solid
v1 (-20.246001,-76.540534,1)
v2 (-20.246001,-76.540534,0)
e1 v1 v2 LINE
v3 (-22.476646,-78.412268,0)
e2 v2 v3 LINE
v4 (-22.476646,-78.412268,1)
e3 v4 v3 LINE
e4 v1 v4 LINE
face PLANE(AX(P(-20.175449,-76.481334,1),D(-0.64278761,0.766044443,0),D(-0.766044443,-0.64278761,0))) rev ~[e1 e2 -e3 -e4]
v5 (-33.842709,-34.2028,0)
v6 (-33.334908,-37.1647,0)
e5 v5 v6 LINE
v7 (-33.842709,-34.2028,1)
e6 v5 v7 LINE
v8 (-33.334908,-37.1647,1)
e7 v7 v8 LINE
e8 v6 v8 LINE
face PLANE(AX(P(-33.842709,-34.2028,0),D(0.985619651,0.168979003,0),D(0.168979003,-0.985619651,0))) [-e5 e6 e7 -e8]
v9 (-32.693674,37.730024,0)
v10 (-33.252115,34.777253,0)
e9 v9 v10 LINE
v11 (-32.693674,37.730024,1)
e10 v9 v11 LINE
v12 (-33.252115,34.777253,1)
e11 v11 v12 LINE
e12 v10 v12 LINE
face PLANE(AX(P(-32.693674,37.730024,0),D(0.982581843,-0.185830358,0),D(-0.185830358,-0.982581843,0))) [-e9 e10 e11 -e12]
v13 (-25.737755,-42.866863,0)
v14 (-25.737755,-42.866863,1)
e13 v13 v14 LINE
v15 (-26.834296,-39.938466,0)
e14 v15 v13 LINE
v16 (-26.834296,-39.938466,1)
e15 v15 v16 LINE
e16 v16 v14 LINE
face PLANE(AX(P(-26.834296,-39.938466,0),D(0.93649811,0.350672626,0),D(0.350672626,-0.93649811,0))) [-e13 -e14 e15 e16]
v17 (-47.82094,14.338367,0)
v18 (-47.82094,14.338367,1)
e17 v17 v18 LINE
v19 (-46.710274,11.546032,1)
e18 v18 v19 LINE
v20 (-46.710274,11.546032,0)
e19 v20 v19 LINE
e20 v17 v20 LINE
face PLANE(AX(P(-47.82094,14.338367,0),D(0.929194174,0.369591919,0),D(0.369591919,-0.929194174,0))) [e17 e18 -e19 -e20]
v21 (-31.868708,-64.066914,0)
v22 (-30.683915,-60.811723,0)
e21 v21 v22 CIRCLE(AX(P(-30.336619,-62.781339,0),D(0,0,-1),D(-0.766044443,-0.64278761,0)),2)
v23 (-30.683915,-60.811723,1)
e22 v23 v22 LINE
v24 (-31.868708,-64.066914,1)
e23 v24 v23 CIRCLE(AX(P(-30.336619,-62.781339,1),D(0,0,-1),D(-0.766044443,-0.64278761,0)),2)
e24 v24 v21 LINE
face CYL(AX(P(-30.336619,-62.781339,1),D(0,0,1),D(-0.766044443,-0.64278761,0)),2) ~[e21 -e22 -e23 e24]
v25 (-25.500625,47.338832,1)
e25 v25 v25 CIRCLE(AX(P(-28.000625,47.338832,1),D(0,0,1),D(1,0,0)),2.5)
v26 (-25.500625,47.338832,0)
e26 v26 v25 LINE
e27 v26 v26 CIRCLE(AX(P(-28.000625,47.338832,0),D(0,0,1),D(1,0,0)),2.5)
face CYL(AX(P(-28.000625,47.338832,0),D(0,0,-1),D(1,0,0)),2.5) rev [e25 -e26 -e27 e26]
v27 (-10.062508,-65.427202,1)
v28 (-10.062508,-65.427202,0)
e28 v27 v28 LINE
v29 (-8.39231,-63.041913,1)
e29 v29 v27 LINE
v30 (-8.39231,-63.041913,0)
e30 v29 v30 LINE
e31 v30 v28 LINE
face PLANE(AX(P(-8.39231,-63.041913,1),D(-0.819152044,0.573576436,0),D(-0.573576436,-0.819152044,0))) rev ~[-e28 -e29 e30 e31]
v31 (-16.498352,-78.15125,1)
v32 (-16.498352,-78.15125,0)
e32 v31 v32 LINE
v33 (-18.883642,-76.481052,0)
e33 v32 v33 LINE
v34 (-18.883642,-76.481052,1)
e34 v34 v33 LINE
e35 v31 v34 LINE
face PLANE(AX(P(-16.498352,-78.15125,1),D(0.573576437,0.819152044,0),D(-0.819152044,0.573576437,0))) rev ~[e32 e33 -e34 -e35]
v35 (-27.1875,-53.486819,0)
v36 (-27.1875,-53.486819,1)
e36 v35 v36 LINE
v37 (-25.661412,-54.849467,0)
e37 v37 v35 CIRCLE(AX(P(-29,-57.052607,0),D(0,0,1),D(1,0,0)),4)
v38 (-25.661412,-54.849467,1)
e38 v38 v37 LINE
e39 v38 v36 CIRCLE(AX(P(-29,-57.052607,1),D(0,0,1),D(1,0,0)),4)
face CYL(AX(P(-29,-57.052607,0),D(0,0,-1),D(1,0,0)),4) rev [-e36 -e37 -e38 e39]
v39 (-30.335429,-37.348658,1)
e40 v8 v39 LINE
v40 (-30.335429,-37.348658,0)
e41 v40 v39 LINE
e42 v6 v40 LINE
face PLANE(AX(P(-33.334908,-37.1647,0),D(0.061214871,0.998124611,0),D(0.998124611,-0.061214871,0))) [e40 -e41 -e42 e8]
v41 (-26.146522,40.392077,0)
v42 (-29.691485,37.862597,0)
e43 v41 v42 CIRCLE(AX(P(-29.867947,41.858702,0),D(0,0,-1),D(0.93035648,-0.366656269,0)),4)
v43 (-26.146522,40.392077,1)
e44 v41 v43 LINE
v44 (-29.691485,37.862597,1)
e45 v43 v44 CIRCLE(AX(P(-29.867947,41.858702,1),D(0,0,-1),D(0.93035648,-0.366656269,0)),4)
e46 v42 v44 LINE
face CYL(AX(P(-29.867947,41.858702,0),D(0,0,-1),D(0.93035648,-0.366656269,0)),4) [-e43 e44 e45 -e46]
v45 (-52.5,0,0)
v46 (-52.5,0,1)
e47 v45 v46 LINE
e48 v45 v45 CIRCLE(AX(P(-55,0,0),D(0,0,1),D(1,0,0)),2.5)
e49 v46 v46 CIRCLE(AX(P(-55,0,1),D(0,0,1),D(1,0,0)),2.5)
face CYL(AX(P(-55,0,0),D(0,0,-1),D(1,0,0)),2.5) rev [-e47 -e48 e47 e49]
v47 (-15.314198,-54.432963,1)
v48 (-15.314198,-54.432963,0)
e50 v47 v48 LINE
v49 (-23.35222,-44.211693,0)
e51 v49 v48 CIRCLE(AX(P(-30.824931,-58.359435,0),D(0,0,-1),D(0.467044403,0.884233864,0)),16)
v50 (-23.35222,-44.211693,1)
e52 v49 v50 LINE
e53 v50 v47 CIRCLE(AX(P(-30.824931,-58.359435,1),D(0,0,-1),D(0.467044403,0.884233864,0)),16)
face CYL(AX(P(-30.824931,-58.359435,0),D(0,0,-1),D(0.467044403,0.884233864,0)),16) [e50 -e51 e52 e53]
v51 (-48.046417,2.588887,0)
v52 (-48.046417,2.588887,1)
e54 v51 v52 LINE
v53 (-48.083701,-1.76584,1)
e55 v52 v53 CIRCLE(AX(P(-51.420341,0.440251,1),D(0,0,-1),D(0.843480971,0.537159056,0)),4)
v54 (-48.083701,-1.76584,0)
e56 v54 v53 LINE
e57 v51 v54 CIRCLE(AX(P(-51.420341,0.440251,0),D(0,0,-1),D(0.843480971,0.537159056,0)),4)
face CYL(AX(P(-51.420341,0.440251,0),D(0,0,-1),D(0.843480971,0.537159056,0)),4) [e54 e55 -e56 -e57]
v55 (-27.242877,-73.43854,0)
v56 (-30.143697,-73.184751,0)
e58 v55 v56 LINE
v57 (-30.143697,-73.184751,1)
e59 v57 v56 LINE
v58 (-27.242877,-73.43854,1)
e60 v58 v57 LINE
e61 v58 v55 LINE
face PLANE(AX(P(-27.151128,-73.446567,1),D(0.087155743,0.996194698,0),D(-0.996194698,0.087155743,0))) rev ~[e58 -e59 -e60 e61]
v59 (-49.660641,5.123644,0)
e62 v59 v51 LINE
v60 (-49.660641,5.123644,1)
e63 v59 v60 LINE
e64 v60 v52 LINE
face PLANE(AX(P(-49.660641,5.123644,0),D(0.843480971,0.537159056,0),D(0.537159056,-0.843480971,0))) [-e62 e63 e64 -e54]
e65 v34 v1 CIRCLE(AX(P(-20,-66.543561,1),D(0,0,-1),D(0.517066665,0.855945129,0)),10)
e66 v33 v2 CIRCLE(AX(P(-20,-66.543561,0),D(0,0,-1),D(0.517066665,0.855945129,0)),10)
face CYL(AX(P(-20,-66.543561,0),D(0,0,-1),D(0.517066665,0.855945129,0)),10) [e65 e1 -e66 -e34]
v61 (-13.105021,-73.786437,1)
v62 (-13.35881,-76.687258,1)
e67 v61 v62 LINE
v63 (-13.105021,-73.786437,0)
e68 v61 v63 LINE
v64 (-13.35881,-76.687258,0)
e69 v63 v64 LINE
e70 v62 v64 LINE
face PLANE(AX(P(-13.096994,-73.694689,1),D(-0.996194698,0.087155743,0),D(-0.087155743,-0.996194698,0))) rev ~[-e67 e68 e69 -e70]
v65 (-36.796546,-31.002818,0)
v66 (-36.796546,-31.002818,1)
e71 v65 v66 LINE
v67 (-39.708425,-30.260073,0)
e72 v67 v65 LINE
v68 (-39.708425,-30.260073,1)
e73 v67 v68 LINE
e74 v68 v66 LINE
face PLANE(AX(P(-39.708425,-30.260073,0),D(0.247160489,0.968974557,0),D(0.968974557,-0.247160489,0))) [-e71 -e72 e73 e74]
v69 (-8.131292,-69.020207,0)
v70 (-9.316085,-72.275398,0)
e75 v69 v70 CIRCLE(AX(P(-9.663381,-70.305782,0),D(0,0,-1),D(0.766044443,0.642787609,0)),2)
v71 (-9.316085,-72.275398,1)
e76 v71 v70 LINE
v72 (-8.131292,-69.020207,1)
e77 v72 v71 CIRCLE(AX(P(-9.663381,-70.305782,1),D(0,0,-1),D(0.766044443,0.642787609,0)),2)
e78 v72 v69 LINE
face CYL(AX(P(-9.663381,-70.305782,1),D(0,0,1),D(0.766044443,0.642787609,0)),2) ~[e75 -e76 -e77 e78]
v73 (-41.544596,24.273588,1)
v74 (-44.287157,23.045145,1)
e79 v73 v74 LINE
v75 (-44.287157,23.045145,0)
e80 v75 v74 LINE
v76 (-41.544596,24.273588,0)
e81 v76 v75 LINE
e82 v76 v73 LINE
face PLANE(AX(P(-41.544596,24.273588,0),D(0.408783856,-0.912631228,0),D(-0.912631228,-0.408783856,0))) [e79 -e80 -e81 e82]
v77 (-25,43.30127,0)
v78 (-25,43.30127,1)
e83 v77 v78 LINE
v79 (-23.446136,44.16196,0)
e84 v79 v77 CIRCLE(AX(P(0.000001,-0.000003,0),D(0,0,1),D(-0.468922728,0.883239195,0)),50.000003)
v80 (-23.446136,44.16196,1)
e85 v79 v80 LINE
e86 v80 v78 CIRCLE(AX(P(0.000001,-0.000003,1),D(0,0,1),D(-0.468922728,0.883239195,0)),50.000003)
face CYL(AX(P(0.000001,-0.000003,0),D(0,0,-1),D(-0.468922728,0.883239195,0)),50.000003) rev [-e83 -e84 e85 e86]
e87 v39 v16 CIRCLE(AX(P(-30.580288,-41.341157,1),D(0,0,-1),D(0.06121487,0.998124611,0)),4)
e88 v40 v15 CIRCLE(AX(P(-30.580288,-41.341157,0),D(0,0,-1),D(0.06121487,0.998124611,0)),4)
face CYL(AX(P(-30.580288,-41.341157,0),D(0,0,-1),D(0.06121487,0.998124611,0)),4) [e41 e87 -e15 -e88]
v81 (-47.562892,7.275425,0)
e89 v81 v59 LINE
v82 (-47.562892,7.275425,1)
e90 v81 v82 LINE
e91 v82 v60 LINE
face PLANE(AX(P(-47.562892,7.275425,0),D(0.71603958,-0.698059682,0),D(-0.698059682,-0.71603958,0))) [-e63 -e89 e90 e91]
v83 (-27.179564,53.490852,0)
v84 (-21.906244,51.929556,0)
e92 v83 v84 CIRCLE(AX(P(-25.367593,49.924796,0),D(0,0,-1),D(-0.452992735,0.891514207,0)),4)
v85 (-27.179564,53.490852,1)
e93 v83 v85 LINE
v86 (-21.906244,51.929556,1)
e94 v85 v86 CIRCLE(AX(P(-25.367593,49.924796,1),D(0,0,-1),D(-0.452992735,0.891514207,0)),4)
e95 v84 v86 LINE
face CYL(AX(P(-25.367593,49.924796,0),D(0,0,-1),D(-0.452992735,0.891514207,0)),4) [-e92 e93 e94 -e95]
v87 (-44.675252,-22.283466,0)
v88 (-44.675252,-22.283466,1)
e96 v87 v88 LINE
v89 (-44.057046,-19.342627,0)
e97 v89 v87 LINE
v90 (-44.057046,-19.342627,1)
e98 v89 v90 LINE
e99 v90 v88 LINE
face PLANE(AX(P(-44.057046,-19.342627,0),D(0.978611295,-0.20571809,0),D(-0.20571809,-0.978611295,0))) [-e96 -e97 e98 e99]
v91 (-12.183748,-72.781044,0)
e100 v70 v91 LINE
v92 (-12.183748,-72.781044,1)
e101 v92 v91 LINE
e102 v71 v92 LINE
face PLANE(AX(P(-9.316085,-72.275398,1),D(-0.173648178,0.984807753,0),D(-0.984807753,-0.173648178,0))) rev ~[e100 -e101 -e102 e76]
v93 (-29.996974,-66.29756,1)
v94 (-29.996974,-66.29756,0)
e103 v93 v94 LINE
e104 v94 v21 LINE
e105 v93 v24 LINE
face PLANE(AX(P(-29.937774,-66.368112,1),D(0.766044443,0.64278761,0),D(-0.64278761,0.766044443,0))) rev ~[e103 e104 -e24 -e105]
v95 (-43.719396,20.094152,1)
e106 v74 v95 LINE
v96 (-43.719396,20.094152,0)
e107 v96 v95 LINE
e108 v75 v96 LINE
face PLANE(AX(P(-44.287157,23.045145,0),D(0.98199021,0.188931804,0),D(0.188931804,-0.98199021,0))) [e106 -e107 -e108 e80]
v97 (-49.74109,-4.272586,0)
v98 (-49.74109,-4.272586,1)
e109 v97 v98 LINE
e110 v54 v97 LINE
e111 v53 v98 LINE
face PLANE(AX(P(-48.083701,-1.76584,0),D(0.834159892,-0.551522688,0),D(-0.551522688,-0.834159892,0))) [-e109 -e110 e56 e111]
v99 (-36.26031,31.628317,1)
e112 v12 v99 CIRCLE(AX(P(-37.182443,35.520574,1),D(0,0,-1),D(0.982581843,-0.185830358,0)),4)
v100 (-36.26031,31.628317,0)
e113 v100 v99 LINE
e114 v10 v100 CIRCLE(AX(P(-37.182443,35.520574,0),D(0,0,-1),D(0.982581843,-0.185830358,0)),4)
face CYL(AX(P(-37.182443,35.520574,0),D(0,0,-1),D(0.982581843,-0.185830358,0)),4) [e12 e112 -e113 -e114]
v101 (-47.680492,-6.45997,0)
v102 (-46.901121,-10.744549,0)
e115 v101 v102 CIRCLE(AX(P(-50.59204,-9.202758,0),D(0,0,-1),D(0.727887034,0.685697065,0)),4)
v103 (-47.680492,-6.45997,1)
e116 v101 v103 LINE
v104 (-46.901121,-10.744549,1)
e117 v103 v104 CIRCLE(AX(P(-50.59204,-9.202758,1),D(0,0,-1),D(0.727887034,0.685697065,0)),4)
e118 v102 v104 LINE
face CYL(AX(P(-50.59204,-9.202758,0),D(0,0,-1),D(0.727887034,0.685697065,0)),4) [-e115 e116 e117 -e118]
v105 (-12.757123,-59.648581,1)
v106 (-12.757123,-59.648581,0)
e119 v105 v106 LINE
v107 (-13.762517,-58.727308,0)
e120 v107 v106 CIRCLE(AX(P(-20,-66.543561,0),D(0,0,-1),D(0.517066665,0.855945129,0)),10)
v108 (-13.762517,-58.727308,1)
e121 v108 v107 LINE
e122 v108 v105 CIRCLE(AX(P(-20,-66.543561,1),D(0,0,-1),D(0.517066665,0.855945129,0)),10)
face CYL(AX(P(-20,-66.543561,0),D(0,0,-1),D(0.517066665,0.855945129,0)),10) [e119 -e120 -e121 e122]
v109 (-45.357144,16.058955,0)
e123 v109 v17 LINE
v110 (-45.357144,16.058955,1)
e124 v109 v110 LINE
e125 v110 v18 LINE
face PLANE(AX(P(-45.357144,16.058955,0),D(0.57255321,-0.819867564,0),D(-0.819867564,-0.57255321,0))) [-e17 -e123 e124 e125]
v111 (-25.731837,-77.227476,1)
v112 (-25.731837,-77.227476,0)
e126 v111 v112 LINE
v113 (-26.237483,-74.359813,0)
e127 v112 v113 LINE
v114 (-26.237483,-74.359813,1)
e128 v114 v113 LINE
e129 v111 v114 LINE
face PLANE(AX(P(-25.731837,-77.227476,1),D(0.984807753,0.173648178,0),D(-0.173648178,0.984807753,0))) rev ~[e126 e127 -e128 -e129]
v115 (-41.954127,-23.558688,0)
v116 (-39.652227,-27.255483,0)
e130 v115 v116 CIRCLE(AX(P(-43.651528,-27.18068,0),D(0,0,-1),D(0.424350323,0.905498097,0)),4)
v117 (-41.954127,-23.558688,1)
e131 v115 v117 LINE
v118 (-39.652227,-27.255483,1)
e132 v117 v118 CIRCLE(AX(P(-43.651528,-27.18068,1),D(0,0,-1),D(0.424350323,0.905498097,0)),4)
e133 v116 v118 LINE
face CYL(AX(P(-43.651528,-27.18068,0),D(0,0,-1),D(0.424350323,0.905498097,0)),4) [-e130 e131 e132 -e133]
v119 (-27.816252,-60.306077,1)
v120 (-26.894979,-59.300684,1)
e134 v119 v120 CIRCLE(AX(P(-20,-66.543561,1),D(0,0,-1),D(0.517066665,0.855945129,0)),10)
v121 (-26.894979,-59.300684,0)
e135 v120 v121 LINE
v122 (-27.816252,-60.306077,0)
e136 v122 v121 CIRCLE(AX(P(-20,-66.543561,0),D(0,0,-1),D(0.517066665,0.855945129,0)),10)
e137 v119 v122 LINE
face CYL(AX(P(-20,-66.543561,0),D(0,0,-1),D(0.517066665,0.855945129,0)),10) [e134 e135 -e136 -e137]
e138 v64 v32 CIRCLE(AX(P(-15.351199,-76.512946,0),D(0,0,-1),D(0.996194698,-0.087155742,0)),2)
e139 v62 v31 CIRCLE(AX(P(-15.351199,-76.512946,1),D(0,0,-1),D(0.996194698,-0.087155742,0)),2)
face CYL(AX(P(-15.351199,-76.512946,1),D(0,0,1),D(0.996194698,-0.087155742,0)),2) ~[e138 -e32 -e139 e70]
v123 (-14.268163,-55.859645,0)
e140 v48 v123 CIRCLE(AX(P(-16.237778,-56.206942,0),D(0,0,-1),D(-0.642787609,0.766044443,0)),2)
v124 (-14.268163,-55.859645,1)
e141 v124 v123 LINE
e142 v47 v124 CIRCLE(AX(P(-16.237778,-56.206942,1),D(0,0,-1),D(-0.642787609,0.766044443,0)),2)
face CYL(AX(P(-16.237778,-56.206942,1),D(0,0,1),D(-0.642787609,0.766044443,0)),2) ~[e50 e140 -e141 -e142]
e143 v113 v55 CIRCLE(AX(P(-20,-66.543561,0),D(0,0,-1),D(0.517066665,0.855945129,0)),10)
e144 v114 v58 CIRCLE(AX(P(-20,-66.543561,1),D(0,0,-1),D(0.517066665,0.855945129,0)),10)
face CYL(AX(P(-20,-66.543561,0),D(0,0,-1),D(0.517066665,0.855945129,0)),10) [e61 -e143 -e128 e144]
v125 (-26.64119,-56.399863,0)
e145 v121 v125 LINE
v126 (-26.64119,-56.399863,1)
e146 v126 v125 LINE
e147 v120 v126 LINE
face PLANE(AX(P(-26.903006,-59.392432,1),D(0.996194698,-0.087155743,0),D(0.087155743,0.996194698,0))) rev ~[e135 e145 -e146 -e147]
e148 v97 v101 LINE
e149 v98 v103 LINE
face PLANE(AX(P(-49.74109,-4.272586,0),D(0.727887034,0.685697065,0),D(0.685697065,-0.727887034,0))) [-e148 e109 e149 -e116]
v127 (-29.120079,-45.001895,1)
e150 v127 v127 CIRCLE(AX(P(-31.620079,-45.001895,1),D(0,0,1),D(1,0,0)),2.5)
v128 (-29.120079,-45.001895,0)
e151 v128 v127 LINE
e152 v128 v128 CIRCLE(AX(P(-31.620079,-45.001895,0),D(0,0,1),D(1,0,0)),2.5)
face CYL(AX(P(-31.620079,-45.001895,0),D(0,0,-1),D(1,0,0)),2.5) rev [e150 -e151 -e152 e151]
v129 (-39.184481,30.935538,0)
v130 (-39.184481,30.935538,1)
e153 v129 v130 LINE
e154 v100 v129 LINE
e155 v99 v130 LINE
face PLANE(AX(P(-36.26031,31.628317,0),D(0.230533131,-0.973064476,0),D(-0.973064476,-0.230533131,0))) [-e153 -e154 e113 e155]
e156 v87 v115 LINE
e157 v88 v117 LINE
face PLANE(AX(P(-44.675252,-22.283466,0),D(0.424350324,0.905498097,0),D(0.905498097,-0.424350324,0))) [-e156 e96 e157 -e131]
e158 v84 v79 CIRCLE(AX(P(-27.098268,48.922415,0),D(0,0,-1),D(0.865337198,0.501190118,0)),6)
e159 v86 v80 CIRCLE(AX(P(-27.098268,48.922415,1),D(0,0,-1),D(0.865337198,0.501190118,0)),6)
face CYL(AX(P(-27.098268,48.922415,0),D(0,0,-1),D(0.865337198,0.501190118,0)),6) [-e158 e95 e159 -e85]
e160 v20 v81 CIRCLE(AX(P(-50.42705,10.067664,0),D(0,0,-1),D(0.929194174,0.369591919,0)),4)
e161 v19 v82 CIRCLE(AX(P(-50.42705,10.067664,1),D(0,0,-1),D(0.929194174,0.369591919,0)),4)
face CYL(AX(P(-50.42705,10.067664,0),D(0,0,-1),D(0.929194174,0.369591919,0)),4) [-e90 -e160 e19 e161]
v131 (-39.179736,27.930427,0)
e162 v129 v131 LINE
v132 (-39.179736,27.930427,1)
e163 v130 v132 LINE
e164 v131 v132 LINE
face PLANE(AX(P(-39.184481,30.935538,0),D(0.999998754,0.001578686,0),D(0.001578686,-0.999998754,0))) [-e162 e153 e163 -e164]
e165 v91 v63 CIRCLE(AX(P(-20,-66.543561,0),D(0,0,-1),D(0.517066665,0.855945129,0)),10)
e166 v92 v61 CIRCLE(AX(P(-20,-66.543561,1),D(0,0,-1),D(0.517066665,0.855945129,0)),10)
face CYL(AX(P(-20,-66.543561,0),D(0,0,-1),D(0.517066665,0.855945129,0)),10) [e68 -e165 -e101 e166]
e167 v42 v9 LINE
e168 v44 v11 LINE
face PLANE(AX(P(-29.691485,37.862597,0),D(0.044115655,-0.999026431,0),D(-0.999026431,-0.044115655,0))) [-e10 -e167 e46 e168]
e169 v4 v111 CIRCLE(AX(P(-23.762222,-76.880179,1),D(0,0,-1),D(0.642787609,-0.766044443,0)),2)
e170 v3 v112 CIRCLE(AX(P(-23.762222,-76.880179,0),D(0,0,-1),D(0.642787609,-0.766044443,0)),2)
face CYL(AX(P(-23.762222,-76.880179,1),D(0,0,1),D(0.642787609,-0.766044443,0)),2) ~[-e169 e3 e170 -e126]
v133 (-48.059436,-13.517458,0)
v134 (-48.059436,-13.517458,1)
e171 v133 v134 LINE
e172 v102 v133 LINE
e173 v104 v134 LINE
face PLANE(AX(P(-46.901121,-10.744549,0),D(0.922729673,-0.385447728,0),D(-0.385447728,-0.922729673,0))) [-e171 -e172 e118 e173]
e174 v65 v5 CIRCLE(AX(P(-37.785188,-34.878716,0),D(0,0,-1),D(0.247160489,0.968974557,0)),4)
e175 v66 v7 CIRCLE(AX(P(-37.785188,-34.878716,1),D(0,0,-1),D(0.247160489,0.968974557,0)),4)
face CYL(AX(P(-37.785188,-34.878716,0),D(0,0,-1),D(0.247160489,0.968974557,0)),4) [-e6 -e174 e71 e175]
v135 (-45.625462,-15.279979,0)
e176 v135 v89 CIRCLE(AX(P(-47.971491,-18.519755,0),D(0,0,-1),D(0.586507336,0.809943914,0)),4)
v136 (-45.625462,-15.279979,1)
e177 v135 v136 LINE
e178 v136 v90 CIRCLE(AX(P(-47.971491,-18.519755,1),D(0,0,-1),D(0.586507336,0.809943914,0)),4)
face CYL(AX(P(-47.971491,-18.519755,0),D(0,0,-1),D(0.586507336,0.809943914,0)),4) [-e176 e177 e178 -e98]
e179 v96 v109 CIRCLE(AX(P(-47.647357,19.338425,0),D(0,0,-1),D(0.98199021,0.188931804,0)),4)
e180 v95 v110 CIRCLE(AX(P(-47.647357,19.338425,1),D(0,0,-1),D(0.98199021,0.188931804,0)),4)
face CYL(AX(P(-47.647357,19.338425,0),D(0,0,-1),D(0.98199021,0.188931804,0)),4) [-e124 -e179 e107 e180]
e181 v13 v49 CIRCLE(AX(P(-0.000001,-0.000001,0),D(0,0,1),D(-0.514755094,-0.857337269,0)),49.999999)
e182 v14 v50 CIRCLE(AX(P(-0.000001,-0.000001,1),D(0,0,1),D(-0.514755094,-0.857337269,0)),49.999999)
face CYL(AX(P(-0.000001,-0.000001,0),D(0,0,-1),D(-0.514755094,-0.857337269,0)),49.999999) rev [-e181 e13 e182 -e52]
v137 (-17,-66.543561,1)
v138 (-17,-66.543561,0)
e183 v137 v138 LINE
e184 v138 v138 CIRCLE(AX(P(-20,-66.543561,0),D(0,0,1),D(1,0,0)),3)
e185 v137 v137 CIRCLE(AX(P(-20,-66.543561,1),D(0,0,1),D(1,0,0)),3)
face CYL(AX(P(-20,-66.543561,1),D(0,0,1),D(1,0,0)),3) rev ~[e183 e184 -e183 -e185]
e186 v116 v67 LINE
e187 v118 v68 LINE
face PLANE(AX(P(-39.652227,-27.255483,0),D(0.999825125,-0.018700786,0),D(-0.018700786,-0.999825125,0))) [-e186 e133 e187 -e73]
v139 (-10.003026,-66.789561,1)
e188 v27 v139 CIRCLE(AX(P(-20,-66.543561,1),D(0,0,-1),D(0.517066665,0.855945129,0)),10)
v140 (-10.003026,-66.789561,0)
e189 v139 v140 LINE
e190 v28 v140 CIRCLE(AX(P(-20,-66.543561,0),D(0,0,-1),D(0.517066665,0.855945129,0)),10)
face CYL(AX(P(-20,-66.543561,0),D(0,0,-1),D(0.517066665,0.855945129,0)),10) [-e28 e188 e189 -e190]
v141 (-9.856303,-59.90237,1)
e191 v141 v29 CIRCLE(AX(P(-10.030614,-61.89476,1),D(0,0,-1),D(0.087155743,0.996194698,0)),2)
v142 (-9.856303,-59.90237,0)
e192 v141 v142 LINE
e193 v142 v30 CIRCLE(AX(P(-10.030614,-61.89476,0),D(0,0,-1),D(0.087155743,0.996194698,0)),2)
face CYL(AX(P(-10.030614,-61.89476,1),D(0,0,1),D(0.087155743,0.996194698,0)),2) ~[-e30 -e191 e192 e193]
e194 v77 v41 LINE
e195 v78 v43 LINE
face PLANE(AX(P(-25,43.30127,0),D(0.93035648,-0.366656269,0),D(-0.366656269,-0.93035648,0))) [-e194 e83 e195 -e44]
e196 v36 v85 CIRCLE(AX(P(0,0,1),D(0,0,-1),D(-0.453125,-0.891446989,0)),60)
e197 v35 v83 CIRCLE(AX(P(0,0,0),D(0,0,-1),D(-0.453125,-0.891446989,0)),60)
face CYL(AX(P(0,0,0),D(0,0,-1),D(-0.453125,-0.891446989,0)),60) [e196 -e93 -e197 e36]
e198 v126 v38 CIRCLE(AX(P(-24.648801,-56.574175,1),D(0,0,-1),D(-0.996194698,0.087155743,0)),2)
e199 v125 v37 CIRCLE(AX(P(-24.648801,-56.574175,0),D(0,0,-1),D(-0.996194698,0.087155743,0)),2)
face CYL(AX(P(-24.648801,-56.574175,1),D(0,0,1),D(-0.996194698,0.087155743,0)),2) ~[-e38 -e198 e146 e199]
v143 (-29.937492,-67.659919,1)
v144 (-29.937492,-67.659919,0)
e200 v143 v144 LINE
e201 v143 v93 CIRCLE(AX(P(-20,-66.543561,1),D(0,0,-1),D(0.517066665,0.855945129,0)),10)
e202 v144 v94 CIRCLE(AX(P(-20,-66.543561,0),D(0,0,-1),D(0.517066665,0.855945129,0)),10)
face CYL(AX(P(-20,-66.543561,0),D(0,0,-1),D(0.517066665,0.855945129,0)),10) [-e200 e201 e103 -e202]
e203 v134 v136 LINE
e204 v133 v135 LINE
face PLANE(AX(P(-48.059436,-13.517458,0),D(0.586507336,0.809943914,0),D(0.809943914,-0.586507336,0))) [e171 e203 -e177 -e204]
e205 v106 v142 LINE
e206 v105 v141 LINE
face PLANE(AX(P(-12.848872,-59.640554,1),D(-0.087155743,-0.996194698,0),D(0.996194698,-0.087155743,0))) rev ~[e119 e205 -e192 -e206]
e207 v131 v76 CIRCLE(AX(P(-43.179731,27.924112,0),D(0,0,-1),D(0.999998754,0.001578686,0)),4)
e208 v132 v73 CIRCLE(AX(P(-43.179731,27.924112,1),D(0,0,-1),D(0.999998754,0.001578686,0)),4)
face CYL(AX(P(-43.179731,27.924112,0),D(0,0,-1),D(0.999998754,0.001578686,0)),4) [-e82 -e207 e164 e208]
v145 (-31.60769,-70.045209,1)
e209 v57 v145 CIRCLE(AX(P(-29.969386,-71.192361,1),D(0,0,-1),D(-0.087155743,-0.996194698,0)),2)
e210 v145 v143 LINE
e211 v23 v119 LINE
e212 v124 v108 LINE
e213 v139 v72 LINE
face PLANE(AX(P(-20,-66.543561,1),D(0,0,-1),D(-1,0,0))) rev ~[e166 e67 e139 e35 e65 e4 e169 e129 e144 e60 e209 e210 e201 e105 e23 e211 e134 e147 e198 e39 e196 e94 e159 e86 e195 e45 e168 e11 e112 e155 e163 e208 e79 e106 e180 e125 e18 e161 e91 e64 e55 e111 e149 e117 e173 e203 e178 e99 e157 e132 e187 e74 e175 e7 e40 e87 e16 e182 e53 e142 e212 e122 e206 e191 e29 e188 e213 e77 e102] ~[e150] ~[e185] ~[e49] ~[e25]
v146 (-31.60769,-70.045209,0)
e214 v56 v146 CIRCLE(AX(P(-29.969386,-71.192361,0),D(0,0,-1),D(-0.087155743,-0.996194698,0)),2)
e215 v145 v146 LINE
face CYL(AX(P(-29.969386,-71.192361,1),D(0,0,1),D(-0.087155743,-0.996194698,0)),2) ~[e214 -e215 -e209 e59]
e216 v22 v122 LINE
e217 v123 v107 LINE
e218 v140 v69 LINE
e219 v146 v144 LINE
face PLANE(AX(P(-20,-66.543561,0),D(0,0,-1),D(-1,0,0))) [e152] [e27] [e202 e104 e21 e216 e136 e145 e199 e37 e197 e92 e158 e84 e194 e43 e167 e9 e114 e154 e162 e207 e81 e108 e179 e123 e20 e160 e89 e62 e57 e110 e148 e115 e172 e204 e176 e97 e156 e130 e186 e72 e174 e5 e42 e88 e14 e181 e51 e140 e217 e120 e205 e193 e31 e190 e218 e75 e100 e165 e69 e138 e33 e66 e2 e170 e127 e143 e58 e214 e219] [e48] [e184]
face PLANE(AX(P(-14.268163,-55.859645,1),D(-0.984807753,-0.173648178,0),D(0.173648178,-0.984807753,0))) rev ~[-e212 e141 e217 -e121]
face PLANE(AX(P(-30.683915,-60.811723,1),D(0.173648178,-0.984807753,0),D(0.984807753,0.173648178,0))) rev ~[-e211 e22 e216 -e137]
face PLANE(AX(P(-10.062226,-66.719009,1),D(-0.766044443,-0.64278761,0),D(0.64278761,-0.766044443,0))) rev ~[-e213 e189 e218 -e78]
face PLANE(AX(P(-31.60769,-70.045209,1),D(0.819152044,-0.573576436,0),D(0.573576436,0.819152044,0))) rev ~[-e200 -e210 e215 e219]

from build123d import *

# Parameters (mm, degrees)
IZIM1_R                     = 5
IZIM1_R_2                   = 2.5
Y_KSEKLIK_EKSTR_ZYON2_DEPTH = 1
IZIM2_R                     = 3
Y_KSEKLIK_EKSTR_ZYON4_DEPTH = 1


with BuildPart() as part:
    # Çizim1 → Yükseklik-Ekstrüzyon2 (new body)
    with BuildSketch(Plane.XY):
        with BuildLine():
            Line((-25, 43.301270189), (-26.146521576, 40.39207739))
            ThreePointArc((-26.146521576, 40.39207739), (-27.544598222, 38.602623821), (-29.691484877, 37.862596744))
            Line((-29.691484877, 37.862596744), (-32.693673826, 37.730024144))
            Line((-32.693673826, 37.730024144), (-33.252115355, 34.777253066))
            ThreePointArc((-33.252115355, 34.777253066), (-34.290118058, 32.757522199), (-36.260310201, 31.628316593))
            Line((-36.260310201, 31.628316593), (-39.184480502, 30.935538106))
            Line((-39.184480502, 30.935538106), (-39.17973637, 27.930427214))
            ThreePointArc((-39.17973637, 27.930427214), (-39.820893366, 25.751969023), (-41.54459596, 24.273587558))
            Line((-41.54459596, 24.273587558), (-44.287157421, 23.045145208))
            Line((-44.287157421, 23.045145208), (-43.719395692, 20.094152054))
            ThreePointArc((-43.719395692, 20.094152054), (-43.940993675, 17.834139505), (-45.357143694, 16.058954583))
            Line((-45.357143694, 16.058954583), (-47.82093971, 14.338366552))
            Line((-47.82093971, 14.338366552), (-46.710273625, 11.546031539))
            ThreePointArc((-46.710273625, 11.546031539), (-46.504462376, 9.284526705), (-47.562892001, 7.275425136))
            Line((-47.562892001, 7.275425136), (-49.660641368, 5.123644113))
            Line((-49.660641368, 5.123644113), (-48.046416828, 2.588887101))
            ThreePointArc((-48.046416828, 2.588887101), (-47.420487313, 0.406004917), (-48.083701146, -1.765839874))
            Line((-48.083701146, -1.765839874), (-49.741090048, -4.272585973))
            Line((-49.741090048, -4.272585973), (-47.680491761, -6.459969953))
            ThreePointArc((-47.680491761, -6.459969953), (-46.656617846, -8.486899797), (-46.901121207, -10.744549126))
            Line((-46.901121207, -10.744549126), (-48.059435816, -13.517457571))
            Line((-48.059435816, -13.517457571), (-45.625461503, -15.279979352))
            ThreePointArc((-45.625461503, -15.279979352), (-44.239914432, -17.079151855), (-44.057045667, -19.342627369))
            Line((-44.057045667, -19.342627369), (-44.675252109, -22.283466496))
            Line((-44.675252109, -22.283466496), (-41.954126526, -23.558687864))
            ThreePointArc((-41.954126526, -23.558687864), (-40.255989993, -25.066366444), (-39.652227319, -27.255483394))
            Line((-39.652227319, -27.255483394), (-39.708425324, -30.260072511))
            Line((-39.708425324, -30.260072511), (-36.7965457, -31.002818113))
            ThreePointArc((-36.7965457, -31.002818113), (-34.84597704, -32.165592505), (-33.842709051, -34.202800331))
            Line((-33.842709051, -34.202800331), (-33.334907776, -37.164700371))
            Line((-33.334907776, -37.164700371), (-30.335428898, -37.348658075))
            ThreePointArc((-30.335428898, -37.348658075), (-28.201527977, -38.125336415), (-26.834295942, -39.938466016))
            Line((-26.834295942, -39.938466016), (-25.73775467, -42.866863479))
            ThreePointArc((-25.73775467, -42.866863479), (-24.554196145, -43.55561332), (-23.352220135, -44.21169319))
            ThreePointArc((-23.352220135, -44.21169319), (-17.219408632, -49.939828574), (-14.829333353, -57.984109281))
            ThreePointArc((-14.829333353, -57.984109281), (-20.099106379, -76.543069457), (-25, -57.883306535))
            Line((-25, -57.883306535), (-25, -57.052607302))
            ThreePointArc((-25, -57.052607302), (-25.590454576, -54.960957236), (-27.1875, -53.486819346))
            ThreePointArc((-27.1875, -53.486819346), (-59.999999835, 0.004450967), (-27.179564099, 53.490852446))
            ThreePointArc((-27.179564099, 53.490852446), (-24.232021318, 53.76021953), (-21.906244367, 51.929556087))
            ThreePointArc((-21.906244367, 51.929556087), (-21.212806241, 47.755648425), (-23.446136356, 44.161959762))
            ThreePointArc((-23.446136356, 44.161959762), (-24.226890609, 43.73851588), (-25, 43.301270189))
        make_face()
        with Locations((-20, -66.543560573)):
            Circle(IZIM1_R, mode=Mode.SUBTRACT)
        with Locations((-31.620079453, -45.001895242)):
            Circle(IZIM1_R_2, mode=Mode.SUBTRACT)
        with Locations((-55, 0)):
            Circle(IZIM1_R_2, mode=Mode.SUBTRACT)
        with Locations((-28.000624989, 47.338831842)):
            Circle(IZIM1_R_2, mode=Mode.SUBTRACT)
    extrude(amount=Y_KSEKLIK_EKSTR_ZYON2_DEPTH)

    # Çizim2 → Yükseklik-Ekstrüzyon4 (add)
    with BuildSketch(Plane.XY.offset(1)):
        with BuildLine():
            Line((-14.268162917, -55.859645389), (-13.746523784, -58.818007922))
            ThreePointArc((-13.746523784, -58.818007922), (-13.437306239, -59.381637082), (-12.848871774, -59.640554443))
            Line((-12.848871774, -59.640554443), (-9.856302857, -59.902370298))
            ThreePointArc((-9.856302857, -59.902370298), (-8.217998769, -61.049523171), (-8.392310254, -63.041912567))
            Line((-8.392310254, -63.041912567), (-10.115333894, -65.502645344))
            ThreePointArc((-10.115333894, -65.502645344), (-10.295230071, -66.119841167), (-10.062226293, -66.71900939))
            Line((-10.062226293, -66.71900939), (-8.131292285, -69.02020693))
            ThreePointArc((-8.131292285, -69.02020693), (-7.78399593, -70.989822436), (-9.316084816, -72.275397656))
            Line((-9.316084816, -72.275397656), (-12.274447349, -72.797036789))
            ThreePointArc((-12.274447349, -72.797036789), (-12.838076508, -73.106254334), (-13.09699387, -73.694688799))
            Line((-13.09699387, -73.694688799), (-13.358809725, -76.687257716))
            ThreePointArc((-13.358809725, -76.687257716), (-14.505962597, -78.325561805), (-16.498351994, -78.151250319))
            Line((-16.498351994, -78.151250319), (-18.95908477, -76.428226679))
            ThreePointArc((-18.95908477, -76.428226679), (-19.576280594, -76.248330502), (-20.175448817, -76.48133428))
            Line((-20.175448817, -76.48133428), (-22.476646357, -78.412268288))
            ThreePointArc((-22.476646357, -78.412268288), (-24.446261863, -78.759564643), (-25.731837083, -77.227475757))
            Line((-25.731837083, -77.227475757), (-26.253476216, -74.269113224))
            ThreePointArc((-26.253476216, -74.269113224), (-26.562693761, -73.705484065), (-27.151128226, -73.446566704))
            Line((-27.151128226, -73.446566704), (-30.143697143, -73.184750849))
            ThreePointArc((-30.143697143, -73.184750849), (-31.782001231, -72.037597976), (-31.607689746, -70.04520858))
            Line((-31.607689746, -70.04520858), (-29.884666106, -67.584475803))
            ThreePointArc((-29.884666106, -67.584475803), (-29.704769929, -66.967279979), (-29.937773707, -66.368111757))
            Line((-29.937773707, -66.368111757), (-31.868707715, -64.066914216))
            ThreePointArc((-31.868707715, -64.066914216), (-32.21600407, -62.09729871), (-30.683915184, -60.811723491))
            Line((-30.683915184, -60.811723491), (-27.725552651, -60.290084357))
            ThreePointArc((-27.725552651, -60.290084357), (-27.161923492, -59.980866812), (-26.90300613, -59.392432347))
            Line((-26.90300613, -59.392432347), (-26.641190275, -56.39986343))
            ThreePointArc((-26.641190275, -56.39986343), (-25.494037403, -54.761559342), (-23.501648006, -54.935870827))
            Line((-23.501648006, -54.935870827), (-21.04091523, -56.658894467))
            ThreePointArc((-21.04091523, -56.658894467), (-20.423719406, -56.838790644), (-19.824551183, -56.605786866))
            Line((-19.824551183, -56.605786866), (-17.523353643, -54.674852858))
            ThreePointArc((-17.523353643, -54.674852858), (-15.553738137, -54.327556503), (-14.268162917, -55.859645389))
        make_face()
        with Locations((-20, -66.543560573)):
            Circle(IZIM2_R, mode=Mode.SUBTRACT)
    extrude(amount=-Y_KSEKLIK_EKSTR_ZYON4_DEPTH)


solid = part.part
